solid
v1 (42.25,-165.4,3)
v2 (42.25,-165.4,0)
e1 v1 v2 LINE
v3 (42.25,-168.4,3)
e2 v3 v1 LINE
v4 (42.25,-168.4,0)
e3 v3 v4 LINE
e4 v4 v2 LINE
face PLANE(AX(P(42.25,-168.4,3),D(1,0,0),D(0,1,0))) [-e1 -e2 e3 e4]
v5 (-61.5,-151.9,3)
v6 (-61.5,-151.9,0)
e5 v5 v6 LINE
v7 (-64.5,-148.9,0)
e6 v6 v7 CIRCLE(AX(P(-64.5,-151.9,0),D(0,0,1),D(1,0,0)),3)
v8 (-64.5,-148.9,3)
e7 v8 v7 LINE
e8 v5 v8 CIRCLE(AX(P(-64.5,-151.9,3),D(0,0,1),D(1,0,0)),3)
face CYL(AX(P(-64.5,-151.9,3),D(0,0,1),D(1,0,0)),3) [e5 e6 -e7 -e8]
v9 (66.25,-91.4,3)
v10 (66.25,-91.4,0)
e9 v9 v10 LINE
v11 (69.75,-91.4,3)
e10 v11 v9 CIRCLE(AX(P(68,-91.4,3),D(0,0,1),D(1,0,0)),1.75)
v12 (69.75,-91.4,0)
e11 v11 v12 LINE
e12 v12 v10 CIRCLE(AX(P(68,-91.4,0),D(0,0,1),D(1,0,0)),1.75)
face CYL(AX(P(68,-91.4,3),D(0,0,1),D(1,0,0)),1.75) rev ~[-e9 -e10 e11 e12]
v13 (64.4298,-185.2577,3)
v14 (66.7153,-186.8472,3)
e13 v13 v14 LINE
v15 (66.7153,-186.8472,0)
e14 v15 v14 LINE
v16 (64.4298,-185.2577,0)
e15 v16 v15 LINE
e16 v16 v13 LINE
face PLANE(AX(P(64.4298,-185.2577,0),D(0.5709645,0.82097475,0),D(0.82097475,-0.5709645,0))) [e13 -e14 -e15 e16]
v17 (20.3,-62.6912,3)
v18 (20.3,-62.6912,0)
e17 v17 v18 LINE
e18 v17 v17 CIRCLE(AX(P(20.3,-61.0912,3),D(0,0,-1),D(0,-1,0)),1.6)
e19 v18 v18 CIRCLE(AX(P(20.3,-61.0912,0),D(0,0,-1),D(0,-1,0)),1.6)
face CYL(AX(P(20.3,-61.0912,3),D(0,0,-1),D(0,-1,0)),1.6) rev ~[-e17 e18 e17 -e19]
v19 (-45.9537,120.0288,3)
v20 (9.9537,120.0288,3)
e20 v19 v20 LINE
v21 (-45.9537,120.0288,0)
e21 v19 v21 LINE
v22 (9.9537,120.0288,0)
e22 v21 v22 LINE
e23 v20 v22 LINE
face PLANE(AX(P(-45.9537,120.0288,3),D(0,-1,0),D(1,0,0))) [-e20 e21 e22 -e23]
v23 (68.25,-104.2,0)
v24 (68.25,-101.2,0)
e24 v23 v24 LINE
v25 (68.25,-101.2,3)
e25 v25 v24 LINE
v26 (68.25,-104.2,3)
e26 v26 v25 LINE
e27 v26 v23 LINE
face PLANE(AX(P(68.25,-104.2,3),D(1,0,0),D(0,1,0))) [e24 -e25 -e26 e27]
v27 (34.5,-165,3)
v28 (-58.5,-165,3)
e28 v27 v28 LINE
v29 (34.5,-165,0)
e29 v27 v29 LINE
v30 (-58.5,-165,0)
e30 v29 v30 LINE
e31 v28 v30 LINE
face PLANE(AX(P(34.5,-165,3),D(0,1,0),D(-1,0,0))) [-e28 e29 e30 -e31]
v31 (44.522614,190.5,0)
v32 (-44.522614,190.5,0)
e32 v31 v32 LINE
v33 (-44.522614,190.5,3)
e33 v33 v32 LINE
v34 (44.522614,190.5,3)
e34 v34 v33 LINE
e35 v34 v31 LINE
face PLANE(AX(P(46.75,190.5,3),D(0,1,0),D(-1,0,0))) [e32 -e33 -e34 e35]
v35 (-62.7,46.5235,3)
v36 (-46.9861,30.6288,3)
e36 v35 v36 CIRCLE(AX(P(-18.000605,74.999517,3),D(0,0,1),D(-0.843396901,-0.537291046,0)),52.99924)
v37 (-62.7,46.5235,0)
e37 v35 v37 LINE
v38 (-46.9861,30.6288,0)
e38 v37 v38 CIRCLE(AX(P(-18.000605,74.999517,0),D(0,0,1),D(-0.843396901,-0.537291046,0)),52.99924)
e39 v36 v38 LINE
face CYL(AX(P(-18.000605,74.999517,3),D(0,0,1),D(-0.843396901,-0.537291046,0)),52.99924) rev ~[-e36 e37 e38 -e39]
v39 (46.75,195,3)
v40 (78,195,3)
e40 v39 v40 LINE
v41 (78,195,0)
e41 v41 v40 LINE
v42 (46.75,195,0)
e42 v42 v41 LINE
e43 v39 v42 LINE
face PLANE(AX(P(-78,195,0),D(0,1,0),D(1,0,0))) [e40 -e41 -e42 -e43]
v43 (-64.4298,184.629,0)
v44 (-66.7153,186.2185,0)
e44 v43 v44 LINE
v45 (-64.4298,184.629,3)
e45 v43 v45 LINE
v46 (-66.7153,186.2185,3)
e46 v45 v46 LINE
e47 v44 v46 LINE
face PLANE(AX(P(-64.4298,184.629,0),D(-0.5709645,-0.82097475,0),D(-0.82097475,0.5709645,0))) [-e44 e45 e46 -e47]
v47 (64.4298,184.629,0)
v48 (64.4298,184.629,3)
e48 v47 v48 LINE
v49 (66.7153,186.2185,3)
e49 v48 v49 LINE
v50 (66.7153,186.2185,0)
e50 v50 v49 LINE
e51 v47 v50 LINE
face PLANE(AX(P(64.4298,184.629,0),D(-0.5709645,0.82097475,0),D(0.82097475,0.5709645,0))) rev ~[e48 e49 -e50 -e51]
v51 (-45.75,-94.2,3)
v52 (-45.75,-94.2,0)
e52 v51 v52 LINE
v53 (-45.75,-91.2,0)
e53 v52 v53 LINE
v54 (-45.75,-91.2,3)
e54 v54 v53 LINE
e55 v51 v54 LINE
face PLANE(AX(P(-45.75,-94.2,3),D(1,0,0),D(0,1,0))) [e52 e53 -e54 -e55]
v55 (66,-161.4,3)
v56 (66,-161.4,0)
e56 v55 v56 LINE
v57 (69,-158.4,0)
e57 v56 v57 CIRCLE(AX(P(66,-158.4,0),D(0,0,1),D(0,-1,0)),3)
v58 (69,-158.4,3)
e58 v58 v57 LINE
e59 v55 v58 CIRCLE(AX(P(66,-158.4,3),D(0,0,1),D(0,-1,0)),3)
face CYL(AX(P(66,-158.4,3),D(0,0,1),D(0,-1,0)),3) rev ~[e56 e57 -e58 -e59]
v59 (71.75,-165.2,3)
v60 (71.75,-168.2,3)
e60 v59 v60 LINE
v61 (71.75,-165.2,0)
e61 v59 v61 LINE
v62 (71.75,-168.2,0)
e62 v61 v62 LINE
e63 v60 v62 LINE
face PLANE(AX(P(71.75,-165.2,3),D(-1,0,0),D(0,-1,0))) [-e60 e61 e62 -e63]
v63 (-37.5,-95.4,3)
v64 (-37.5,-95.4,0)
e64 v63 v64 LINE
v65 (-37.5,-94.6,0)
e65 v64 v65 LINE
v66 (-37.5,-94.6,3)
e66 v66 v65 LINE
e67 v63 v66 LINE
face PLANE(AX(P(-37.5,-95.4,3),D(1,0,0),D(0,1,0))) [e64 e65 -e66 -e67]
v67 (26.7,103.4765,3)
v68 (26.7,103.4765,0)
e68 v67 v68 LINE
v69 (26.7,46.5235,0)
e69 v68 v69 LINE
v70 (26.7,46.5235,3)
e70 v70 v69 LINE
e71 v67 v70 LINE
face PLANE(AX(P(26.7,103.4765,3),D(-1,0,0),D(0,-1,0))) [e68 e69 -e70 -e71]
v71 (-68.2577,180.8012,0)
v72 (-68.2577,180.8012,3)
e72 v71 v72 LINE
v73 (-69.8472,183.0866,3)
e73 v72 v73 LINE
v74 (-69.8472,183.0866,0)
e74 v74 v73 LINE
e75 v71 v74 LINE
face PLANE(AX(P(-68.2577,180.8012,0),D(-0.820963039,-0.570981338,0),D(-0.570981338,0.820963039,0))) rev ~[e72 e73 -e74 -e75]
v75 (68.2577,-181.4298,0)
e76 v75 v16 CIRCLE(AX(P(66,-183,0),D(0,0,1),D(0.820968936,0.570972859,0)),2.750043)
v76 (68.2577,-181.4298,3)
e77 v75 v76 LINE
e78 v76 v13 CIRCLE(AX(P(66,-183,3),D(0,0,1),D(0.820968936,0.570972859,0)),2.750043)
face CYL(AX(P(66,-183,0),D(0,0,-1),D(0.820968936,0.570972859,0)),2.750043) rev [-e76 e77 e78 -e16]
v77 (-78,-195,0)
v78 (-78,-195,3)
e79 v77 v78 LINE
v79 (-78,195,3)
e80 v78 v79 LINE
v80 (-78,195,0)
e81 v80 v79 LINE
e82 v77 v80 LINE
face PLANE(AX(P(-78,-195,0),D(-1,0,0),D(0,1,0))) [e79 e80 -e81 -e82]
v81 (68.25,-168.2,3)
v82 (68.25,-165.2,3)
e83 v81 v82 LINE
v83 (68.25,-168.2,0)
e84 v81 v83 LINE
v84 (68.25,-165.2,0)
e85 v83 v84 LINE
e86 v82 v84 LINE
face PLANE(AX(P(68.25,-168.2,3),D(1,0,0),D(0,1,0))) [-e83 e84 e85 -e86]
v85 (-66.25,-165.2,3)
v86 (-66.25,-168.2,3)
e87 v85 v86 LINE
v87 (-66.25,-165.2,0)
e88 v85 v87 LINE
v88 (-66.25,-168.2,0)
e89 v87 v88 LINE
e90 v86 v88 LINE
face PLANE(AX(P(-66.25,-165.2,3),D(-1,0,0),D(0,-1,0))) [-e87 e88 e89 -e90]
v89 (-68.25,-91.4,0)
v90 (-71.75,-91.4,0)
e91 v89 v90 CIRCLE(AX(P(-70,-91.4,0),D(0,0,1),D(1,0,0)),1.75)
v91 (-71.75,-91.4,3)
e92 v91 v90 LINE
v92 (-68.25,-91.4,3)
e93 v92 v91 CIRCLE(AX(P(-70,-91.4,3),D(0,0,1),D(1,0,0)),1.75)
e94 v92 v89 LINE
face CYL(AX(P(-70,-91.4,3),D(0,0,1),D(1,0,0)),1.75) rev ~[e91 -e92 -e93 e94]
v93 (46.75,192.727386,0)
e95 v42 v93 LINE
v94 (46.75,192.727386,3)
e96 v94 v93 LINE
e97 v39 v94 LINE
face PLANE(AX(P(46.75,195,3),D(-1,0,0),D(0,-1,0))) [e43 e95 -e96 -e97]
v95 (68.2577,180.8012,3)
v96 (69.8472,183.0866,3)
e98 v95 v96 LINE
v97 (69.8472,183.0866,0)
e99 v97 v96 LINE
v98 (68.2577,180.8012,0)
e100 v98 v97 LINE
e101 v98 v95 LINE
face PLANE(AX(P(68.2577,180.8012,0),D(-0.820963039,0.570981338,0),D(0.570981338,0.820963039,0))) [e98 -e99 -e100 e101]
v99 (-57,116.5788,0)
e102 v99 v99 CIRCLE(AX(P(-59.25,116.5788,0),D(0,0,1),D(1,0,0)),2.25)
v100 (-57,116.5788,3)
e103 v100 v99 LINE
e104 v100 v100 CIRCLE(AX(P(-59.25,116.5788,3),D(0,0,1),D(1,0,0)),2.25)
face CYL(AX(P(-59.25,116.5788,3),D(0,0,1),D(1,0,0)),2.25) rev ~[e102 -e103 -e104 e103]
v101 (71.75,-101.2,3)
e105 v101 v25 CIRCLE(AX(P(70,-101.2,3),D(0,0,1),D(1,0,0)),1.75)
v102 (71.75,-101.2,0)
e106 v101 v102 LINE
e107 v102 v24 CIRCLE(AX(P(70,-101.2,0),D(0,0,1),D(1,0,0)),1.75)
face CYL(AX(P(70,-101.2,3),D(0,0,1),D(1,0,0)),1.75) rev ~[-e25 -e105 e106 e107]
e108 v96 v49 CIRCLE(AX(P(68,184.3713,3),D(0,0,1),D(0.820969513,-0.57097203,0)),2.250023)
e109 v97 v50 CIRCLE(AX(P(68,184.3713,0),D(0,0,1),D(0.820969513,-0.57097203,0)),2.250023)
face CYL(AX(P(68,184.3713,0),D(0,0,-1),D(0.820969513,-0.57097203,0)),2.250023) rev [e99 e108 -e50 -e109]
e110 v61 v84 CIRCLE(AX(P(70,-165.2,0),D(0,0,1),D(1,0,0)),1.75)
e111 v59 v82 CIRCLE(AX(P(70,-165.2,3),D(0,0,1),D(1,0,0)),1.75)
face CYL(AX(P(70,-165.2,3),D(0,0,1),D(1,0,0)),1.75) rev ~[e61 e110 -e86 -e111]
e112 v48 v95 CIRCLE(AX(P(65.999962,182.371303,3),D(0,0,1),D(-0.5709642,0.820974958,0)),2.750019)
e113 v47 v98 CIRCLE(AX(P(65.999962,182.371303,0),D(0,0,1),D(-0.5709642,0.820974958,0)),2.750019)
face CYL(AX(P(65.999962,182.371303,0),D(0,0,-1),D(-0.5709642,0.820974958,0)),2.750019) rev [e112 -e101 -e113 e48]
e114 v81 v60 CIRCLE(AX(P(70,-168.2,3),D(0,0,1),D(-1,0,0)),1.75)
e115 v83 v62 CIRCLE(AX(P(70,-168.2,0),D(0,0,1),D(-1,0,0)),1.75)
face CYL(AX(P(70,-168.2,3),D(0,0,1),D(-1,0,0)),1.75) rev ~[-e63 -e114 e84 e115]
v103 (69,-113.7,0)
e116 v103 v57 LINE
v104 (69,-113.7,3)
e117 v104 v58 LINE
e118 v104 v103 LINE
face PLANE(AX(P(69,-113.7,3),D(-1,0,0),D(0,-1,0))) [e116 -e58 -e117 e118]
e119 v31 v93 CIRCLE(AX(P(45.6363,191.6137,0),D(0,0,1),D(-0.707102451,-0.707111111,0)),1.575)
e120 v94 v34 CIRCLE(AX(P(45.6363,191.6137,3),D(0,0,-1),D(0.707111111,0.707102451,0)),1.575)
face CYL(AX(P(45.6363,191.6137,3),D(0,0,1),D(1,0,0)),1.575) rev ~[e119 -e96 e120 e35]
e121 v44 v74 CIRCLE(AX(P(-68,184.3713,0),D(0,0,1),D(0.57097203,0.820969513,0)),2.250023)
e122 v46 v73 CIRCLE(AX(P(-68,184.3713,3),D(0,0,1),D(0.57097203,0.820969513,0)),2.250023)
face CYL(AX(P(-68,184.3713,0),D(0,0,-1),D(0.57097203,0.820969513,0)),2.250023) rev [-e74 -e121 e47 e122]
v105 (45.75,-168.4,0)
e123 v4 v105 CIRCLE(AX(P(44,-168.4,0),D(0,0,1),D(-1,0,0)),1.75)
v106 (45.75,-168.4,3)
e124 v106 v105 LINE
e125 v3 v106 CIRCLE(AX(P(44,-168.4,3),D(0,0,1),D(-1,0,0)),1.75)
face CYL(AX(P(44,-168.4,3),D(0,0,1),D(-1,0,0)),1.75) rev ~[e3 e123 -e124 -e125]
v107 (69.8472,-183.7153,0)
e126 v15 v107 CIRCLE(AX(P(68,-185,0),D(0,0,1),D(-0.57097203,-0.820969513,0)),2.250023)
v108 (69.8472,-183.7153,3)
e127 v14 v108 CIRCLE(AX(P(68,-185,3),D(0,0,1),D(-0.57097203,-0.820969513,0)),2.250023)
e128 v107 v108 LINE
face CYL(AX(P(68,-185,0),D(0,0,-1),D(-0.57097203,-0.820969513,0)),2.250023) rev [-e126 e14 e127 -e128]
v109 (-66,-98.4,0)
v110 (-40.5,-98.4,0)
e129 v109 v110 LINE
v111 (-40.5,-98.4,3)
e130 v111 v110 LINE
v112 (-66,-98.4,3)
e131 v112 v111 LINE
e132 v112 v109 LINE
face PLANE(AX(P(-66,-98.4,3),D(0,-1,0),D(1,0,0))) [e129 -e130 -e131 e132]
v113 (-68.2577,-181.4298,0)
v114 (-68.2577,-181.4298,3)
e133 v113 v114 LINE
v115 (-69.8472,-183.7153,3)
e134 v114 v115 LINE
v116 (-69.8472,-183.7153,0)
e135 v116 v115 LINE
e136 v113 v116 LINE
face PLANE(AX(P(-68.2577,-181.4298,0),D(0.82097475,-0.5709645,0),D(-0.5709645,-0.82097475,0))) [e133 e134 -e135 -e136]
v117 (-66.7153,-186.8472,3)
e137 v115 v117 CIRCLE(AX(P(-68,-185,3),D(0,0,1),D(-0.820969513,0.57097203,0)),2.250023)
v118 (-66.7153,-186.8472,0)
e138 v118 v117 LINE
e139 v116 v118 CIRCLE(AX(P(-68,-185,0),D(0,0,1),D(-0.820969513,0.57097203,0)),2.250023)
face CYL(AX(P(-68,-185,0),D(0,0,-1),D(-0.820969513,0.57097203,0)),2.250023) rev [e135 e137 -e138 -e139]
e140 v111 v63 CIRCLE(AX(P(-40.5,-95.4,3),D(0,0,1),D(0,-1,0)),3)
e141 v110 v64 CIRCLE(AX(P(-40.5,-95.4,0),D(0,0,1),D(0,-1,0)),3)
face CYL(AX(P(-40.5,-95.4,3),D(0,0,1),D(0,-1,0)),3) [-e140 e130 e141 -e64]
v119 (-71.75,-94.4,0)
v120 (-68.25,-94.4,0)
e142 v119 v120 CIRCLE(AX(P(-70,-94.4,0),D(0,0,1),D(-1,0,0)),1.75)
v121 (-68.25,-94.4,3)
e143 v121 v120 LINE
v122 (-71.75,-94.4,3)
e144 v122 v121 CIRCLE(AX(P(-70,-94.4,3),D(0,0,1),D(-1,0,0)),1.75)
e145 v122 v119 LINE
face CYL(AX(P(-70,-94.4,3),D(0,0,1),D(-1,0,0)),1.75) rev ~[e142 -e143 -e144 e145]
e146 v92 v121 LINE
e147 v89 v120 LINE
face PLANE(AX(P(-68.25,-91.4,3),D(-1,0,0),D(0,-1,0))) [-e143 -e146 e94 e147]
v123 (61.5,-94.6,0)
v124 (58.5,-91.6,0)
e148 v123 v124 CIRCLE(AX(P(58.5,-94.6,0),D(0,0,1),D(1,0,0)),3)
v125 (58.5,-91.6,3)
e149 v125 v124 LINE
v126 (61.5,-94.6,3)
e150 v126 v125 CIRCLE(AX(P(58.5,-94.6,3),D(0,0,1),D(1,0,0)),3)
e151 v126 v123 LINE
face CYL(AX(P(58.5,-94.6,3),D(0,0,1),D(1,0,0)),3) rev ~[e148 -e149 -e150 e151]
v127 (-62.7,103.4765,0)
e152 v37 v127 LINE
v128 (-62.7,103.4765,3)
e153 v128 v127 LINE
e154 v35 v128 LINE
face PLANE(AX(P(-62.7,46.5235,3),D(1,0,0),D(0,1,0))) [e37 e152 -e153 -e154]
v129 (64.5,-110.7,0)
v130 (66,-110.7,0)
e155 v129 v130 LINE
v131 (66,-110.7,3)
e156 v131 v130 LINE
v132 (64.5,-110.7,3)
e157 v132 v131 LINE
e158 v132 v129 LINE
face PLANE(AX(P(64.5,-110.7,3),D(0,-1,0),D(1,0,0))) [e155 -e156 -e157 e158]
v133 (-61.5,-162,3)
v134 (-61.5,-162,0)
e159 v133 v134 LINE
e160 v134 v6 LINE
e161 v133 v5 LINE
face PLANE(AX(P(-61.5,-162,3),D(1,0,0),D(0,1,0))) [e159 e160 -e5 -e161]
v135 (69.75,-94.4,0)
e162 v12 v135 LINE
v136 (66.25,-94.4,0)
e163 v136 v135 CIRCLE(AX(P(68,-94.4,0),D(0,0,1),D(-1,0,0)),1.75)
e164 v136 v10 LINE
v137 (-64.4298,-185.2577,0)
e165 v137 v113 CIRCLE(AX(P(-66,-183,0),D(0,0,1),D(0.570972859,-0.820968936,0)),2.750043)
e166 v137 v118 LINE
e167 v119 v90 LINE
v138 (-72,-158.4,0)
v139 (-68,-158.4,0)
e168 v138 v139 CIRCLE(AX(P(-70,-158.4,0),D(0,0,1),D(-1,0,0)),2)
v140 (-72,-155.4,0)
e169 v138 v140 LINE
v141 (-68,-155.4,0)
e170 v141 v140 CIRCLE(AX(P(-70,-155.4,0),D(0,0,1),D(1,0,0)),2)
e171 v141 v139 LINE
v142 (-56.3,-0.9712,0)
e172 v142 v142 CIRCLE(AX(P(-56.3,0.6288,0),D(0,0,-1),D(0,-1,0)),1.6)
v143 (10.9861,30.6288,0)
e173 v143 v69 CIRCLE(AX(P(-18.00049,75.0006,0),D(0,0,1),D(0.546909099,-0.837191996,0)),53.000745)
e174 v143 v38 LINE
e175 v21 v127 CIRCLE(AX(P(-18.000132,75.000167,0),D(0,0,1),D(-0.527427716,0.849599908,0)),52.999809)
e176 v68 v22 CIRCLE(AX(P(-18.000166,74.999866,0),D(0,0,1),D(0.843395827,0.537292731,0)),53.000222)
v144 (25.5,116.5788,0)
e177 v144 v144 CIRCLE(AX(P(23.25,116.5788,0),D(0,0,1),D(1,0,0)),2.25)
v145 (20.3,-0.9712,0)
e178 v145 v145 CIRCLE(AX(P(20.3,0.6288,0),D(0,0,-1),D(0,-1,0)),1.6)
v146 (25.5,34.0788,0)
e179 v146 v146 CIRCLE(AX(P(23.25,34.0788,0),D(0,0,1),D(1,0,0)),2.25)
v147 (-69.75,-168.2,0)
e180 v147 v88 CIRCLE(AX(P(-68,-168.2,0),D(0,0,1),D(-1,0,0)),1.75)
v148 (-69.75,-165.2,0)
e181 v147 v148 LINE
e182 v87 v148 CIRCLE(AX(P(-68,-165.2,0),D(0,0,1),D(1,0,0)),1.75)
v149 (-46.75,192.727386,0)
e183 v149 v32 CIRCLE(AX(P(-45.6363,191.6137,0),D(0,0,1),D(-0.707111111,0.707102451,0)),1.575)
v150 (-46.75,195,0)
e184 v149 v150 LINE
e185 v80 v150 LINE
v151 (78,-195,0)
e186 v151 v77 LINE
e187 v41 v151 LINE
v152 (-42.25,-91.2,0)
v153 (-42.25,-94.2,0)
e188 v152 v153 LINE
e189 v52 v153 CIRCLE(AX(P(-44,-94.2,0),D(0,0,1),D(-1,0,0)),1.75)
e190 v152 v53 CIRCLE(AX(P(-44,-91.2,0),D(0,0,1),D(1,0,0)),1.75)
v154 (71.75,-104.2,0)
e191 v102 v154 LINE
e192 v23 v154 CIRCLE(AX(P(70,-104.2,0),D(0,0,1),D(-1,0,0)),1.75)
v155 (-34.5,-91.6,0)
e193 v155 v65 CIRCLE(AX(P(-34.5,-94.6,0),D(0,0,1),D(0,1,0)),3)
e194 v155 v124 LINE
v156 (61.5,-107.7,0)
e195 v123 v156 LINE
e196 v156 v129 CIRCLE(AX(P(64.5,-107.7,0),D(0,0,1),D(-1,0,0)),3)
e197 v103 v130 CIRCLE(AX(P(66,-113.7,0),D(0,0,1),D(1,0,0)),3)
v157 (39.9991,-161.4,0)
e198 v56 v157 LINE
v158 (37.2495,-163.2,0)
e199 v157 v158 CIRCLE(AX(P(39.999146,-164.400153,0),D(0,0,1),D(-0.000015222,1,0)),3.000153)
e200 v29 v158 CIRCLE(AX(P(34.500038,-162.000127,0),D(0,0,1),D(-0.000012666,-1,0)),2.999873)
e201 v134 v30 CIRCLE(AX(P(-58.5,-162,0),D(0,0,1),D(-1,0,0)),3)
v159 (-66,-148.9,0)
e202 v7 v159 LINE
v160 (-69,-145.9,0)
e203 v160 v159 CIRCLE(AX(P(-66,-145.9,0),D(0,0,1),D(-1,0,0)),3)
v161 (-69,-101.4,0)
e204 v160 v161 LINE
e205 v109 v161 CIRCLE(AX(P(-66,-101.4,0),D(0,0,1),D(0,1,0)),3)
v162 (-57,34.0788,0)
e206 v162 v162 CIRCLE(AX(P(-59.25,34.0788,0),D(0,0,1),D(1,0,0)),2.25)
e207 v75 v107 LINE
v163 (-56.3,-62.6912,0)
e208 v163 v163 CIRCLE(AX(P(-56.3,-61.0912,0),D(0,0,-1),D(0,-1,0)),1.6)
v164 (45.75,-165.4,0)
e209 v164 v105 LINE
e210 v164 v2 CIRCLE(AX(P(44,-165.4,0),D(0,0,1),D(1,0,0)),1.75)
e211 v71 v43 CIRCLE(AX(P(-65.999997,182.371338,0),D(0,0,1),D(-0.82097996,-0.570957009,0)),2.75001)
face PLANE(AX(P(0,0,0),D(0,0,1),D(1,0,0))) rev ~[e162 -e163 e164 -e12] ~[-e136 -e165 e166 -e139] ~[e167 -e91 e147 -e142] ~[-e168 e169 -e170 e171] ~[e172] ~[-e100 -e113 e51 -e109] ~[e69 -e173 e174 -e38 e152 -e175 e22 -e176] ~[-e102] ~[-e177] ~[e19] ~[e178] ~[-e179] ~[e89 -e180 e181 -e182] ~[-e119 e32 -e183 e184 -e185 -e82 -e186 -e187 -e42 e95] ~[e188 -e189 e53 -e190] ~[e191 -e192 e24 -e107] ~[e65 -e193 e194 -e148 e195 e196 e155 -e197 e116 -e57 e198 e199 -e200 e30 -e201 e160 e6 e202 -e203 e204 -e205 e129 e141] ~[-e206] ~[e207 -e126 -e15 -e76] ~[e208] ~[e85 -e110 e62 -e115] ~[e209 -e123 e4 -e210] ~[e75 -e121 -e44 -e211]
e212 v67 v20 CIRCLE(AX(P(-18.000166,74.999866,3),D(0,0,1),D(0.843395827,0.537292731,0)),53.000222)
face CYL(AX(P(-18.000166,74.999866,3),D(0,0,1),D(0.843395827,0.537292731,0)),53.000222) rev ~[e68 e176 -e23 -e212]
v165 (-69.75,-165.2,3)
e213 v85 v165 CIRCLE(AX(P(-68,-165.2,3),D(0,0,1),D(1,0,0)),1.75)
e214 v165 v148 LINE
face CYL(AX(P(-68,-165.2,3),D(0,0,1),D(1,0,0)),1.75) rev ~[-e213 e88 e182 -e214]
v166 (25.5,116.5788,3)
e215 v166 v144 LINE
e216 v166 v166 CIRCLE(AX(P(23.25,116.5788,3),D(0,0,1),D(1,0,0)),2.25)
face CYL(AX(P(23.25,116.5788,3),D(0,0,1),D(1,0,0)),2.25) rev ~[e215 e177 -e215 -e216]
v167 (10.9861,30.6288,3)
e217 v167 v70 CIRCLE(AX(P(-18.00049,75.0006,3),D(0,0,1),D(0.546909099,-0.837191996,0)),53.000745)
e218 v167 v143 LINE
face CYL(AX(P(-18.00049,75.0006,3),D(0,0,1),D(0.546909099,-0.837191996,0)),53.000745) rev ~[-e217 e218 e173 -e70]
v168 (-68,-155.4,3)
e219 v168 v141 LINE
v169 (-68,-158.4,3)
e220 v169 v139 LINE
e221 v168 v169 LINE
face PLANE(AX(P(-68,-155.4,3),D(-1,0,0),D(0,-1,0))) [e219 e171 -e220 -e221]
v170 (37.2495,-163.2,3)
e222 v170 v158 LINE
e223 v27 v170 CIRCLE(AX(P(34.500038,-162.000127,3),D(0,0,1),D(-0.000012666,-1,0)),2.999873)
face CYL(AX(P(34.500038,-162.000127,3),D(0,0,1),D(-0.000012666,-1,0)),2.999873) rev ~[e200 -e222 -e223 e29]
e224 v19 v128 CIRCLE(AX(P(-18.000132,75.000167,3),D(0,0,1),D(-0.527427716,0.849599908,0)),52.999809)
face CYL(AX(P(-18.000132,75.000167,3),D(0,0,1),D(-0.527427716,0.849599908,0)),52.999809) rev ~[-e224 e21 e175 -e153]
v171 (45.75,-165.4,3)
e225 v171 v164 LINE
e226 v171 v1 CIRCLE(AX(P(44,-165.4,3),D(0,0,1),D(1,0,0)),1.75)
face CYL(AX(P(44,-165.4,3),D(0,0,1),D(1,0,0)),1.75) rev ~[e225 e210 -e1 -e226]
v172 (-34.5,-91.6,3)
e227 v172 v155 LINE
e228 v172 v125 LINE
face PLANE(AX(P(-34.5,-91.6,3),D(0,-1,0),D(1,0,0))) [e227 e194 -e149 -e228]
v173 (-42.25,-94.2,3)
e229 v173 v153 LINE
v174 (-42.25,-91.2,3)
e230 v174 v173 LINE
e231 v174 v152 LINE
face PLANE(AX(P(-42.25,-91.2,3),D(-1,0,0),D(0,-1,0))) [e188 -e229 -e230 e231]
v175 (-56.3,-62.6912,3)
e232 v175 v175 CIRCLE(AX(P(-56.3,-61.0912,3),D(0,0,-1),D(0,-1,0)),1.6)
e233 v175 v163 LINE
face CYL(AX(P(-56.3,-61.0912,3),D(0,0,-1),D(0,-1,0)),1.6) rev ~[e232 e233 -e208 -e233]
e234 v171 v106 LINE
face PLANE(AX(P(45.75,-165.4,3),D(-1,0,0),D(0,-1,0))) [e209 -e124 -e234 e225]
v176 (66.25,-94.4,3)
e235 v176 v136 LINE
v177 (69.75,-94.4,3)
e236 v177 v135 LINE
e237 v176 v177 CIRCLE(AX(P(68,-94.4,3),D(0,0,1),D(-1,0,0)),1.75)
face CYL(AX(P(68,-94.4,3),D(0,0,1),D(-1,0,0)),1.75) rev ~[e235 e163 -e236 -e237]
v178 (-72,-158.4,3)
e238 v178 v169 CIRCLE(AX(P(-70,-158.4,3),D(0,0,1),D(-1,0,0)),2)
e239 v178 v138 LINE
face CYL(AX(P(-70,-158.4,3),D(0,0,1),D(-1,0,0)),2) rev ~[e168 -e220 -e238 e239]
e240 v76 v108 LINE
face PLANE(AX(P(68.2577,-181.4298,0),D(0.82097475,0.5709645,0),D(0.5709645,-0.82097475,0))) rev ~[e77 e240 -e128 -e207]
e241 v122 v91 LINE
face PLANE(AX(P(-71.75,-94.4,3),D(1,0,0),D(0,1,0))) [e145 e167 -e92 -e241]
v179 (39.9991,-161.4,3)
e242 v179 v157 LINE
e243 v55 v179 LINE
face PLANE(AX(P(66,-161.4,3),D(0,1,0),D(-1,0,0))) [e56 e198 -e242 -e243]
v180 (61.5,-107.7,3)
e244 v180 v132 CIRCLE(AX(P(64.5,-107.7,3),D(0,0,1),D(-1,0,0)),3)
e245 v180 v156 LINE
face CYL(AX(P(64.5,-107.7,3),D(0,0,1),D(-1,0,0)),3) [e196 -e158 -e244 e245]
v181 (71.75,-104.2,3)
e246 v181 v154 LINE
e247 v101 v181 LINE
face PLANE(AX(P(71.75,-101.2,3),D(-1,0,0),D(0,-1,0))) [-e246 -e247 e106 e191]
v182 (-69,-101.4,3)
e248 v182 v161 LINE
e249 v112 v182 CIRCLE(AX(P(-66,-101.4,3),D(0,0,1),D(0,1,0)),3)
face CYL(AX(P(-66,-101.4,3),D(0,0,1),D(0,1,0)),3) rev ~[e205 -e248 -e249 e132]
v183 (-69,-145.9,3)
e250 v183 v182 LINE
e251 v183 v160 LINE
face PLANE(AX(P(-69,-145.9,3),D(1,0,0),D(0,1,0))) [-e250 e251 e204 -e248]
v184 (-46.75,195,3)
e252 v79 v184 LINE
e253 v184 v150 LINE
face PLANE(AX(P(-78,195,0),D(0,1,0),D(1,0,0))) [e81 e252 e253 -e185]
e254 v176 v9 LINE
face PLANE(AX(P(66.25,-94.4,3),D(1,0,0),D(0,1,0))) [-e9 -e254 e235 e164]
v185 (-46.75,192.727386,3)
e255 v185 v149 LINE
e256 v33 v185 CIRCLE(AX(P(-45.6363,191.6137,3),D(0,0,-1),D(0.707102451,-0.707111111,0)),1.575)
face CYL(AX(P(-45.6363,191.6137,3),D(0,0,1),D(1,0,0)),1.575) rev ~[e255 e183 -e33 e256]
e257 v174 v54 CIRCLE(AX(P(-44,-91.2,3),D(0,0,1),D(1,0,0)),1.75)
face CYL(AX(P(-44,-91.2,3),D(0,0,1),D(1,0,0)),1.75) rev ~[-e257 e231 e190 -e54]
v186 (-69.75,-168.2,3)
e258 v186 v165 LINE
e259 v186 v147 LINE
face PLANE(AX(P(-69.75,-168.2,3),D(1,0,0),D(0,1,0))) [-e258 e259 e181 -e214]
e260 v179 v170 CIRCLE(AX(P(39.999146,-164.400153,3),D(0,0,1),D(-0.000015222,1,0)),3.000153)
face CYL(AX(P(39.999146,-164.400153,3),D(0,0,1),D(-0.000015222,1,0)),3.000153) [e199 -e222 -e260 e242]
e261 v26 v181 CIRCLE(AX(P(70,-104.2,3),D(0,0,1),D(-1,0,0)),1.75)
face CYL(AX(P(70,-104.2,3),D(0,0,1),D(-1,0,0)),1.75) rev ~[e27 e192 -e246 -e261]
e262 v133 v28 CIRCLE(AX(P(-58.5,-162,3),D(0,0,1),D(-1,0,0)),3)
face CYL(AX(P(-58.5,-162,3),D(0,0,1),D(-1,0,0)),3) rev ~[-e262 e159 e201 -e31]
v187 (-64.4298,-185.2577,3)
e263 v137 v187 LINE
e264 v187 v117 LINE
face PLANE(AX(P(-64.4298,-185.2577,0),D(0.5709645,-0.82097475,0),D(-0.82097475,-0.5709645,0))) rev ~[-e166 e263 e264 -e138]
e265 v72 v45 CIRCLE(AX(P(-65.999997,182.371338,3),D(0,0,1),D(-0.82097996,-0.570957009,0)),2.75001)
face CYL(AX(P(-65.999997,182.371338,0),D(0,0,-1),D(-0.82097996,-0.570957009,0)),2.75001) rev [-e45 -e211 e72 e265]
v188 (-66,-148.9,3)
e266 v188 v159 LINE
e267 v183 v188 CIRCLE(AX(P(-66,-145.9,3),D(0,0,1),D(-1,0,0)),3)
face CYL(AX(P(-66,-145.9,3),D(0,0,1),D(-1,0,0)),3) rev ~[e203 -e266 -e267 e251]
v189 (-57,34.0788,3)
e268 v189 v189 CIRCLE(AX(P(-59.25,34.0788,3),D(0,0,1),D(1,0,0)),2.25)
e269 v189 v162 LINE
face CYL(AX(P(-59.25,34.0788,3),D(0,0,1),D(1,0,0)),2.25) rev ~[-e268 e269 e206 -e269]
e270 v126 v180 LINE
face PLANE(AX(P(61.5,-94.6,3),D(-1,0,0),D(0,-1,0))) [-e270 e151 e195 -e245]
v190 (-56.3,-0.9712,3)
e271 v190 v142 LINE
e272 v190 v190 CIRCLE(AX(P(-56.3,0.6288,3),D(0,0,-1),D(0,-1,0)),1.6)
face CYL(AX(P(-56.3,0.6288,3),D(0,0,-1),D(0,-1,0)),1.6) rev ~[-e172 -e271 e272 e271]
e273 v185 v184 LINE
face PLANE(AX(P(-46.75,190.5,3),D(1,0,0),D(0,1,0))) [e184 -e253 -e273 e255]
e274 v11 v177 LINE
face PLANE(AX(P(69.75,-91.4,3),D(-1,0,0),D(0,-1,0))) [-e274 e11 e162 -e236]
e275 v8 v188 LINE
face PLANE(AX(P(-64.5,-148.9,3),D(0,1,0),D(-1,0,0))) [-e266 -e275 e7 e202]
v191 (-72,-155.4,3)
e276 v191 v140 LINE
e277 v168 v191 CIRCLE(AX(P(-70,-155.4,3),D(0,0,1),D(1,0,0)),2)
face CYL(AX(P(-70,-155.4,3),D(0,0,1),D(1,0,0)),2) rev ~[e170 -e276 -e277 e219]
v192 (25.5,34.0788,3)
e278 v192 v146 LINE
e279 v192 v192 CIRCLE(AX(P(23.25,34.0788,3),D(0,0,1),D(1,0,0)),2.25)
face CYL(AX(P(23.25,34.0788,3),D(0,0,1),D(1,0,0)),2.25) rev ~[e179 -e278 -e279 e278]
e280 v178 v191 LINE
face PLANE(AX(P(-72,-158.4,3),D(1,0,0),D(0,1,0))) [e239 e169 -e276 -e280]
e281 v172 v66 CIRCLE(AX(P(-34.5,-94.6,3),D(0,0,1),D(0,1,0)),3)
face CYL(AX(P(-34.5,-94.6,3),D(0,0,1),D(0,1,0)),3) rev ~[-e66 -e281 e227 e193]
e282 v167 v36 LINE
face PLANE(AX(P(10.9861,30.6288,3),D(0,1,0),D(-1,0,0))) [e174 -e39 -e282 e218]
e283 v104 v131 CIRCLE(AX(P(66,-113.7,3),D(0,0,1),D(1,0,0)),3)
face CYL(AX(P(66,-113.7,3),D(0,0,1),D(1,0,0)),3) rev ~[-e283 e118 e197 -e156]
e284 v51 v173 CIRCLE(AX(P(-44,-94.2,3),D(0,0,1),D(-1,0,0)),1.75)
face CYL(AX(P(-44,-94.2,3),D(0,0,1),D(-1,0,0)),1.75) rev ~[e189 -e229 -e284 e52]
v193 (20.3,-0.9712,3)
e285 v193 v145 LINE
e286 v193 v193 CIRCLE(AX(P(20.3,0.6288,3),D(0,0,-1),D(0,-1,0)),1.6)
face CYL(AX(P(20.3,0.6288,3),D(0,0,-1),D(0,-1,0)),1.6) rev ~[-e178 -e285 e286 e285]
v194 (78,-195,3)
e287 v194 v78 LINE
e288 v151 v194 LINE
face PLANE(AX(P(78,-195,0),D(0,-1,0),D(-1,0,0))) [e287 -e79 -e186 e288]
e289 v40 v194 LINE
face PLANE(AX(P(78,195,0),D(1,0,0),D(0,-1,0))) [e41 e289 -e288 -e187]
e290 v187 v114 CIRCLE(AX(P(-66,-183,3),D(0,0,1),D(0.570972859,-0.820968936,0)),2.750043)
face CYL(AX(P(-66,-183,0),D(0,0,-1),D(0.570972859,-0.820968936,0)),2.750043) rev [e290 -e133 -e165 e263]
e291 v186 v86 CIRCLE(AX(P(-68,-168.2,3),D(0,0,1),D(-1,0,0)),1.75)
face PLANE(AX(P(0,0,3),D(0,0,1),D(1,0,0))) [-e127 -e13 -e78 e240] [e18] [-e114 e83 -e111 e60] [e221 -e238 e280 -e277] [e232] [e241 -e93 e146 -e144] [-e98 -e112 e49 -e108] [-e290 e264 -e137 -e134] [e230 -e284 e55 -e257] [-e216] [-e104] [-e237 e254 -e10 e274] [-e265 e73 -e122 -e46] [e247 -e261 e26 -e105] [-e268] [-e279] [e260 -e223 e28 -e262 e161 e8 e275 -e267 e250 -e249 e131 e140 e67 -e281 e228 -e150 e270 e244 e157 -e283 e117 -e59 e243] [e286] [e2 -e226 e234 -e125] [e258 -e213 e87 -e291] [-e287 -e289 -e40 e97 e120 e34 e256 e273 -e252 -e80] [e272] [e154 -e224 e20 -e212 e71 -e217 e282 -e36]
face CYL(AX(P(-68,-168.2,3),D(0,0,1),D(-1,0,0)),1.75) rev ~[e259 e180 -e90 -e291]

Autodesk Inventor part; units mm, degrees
ref_plane "YZ Plane" through (0, 0, 0) normal (1, 0, 0) x (0, 1, 0)
ref_plane "XZ Plane" through (0, 0, 0) normal (0, 1, 0) x (-1, 0, 0)
ref_plane "XY Plane" through (0, 0, 0) normal (0, 0, 1) x (1, 0, 0)
sketch "Sketch1" plane through (0, 0, 0) normal (0, 0, 1) x (1, 0, 0)
  line L0 (-78, 195) -> (78, 195)
  line L1 (78, 195) -> (78, -195)
  line L2 (78, -195) -> (-78, -195)
  line L3 (-78, -195) -> (-78, 195)
  line L4 (-78, 195) -> (78, -195) construction
  line L5 (78, 195) -> (-78, -195) construction
  arc A0 (-64.4298, -185.2577) -> (-68.2577, -181.4298) centre (-66, -183) ccw
  arc A1 (-69.8472, -183.7153) -> (-66.7153, -186.8472) centre (-68, -185) ccw
  line L6 (-64.4298, -185.2577) -> (-66.7153, -186.8472)
  line L7 (-68.2577, -181.4298) -> (-69.8472, -183.7153)
  line L8 (0, 12.0891) -> (0, -12.7178)
  line L9 (-14.9134, -0.3143) -> (28.4633, -0.3143)
  arc A2 (68.2577, -181.4298) -> (64.4298, -185.2577) centre (66, -183) ccw
  arc A3 (66.7153, -186.8472) -> (69.8472, -183.7153) centre (68, -185) ccw
  line L10 (64.4298, -185.2577) -> (66.7153, -186.8472)
  line L11 (68.2577, -181.4298) -> (69.8472, -183.7153)
  arc A4 (-68.2577, 180.8012) -> (-64.4298, 184.629) centre (-66, 182.3713) ccw
  arc A5 (-66.7153, 186.2185) -> (-69.8472, 183.0866) centre (-68, 184.3713) ccw
  line L12 (-64.4298, 184.629) -> (-66.7153, 186.2185)
  line L13 (-68.2577, 180.8012) -> (-69.8472, 183.0866)
  arc A6 (64.4298, 184.629) -> (68.2577, 180.8012) centre (66, 182.3713) ccw
  line L14 (68.2577, 180.8012) -> (69.8472, 183.0866)
  line L15 (64.4298, 184.629) -> (66.7153, 186.2185)
  arc A7 (69.8472, 183.0866) -> (66.7153, 186.2185) centre (68, 184.3713) ccw
  point P0 (0, 0)
  dimension "d507" = 390
  dimension "d508" = 156
  dimension "d513" = 5.5
  dimension "d514" = 4.5
  dimension "d515" = 10
  dimension "d516" = 10
  dimension "d517" = 12
  dimension "d518" = 12
extrude "Extrusion2" add sketch "Sketch1" along normal blind 3
sketch "Sketch3" plane through (0, 0, 3) normal (0, 0, 1) x (1, 0, 0)
  line L0 (-66, -98.4) -> (-40.5, -98.4)
  arc A0 (-71.75, -94.4) -> (-68.25, -94.4) centre (-70, -94.4) ccw
  arc A1 (-68.25, -91.4) -> (-71.75, -91.4) centre (-70, -91.4) ccw
  line L1 (-71.75, -94.4) -> (-71.75, -91.4)
  line L2 (-68.25, -91.4) -> (-68.25, -94.4)
  arc A2 (-66, -98.4) -> (-69, -101.4) centre (-66, -101.4) ccw
  line L3 (-69, -145.9) -> (-69, -101.4)
  line L4 (-45.75, -94.2) -> (-45.75, -91.2)
  arc A3 (-42.25, -91.2) -> (-45.75, -91.2) centre (-44, -91.2) ccw
  line L5 (-42.25, -91.2) -> (-42.25, -94.2)
  arc A4 (-45.75, -94.2) -> (-42.25, -94.2) centre (-44, -94.2) ccw
  arc A5 (-34.5, -91.6) -> (-37.5, -94.6) centre (-34.5, -94.6) ccw
  arc A6 (-40.5, -98.4) -> (-37.5, -95.4) centre (-40.5, -95.4) ccw
  line L6 (-37.5, -95.4) -> (-37.5, -94.6)
  line L7 (-34.5, -91.6) -> (58.5, -91.6)
  arc A7 (61.5, -94.6) -> (58.5, -91.6) centre (58.5, -94.6) ccw
  line L8 (66.25, -94.4) -> (66.25, -91.4)
  arc A8 (69.75, -91.4) -> (66.25, -91.4) centre (68, -91.4) ccw
  line L9 (69.75, -91.4) -> (69.75, -94.4)
  arc A9 (66.25, -94.4) -> (69.75, -94.4) centre (68, -94.4) ccw
  arc A10 (71.75, -101.2) -> (68.25, -101.2) centre (70, -101.2) ccw
  line L10 (68.25, -104.2) -> (68.25, -101.2)
  line L11 (71.75, -101.2) -> (71.75, -104.2)
  arc A11 (68.25, -104.2) -> (71.75, -104.2) centre (70, -104.2) ccw
  line L12 (61.5, -94.6) -> (61.5, -107.7)
  arc A12 (61.5, -107.7) -> (64.5, -110.7) centre (64.5, -107.7) ccw
  line L13 (64.5, -110.7) -> (66, -110.7)
  arc A13 (69, -113.7) -> (66, -110.7) centre (66, -113.7) ccw
  line L14 (69, -113.7) -> (69, -158.4)
  arc A14 (66, -161.4) -> (69, -158.4) centre (66, -158.4) ccw
  line L15 (66, -161.4) -> (39.9991, -161.4)
  arc A15 (71.75, -165.2) -> (68.25, -165.2) centre (70, -165.2) ccw
  line L16 (68.25, -168.2) -> (68.25, -165.2)
  line L17 (71.75, -165.2) -> (71.75, -168.2)
  arc A16 (68.25, -168.2) -> (71.75, -168.2) centre (70, -168.2) ccw
  arc A17 (39.9991, -161.4) -> (37.2495, -163.2) centre (39.9991, -164.4) ccw
  arc A18 (34.5, -165) -> (37.2495, -163.2) centre (34.5, -162) ccw
  line L18 (34.5, -165) -> (-58.5, -165)
  line L19 (42.25, -168.4) -> (42.25, -165.4)
  arc A19 (45.75, -165.4) -> (42.25, -165.4) centre (44, -165.4) ccw
  line L20 (45.75, -165.4) -> (45.75, -168.4)
  arc A20 (42.25, -168.4) -> (45.75, -168.4) centre (44, -168.4) ccw
  arc A21 (-61.5, -162) -> (-58.5, -165) centre (-58.5, -162) ccw
  line L21 (-61.5, -162) -> (-61.5, -151.9)
  arc A22 (-61.5, -151.9) -> (-64.5, -148.9) centre (-64.5, -151.9) ccw
  arc A23 (-69, -145.9) -> (-66, -148.9) centre (-66, -145.9) ccw
  line L22 (-64.5, -148.9) -> (-66, -148.9)
  arc A24 (-68, -155.4) -> (-72, -155.4) centre (-70, -155.4) ccw
  line L23 (-68, -155.4) -> (-68, -158.4)
  line L24 (-72, -158.4) -> (-72, -155.4)
  arc A25 (-72, -158.4) -> (-68, -158.4) centre (-70, -158.4) ccw
  arc A26 (-66.25, -165.2) -> (-69.75, -165.2) centre (-68, -165.2) ccw
  line L25 (-69.75, -168.2) -> (-69.75, -165.2)
  line L26 (-66.25, -165.2) -> (-66.25, -168.2)
  arc A27 (-69.75, -168.2) -> (-66.25, -168.2) centre (-68, -168.2) ccw
  line L27 (-78, -195) -> (78, -195) projected
  point P0 (0, 0)
  dimension "d524" = 1.75
  dimension "d525" = 3
  dimension "d526" = 2
  dimension "d527" = 2
  dimension "d528" = 2.75
  dimension "d529" = 10.25
  dimension "d530" = 26
  dimension "d531" = 109.25
  dimension "d532" = 114
  dimension "d533" = 133.25
  dimension "d534" = 138
  dimension "d535" = 139.75
  dimension "d536" = 140
  dimension "d537" = 140.75
  dimension "d538" = 50.7
  dimension "d539" = 19.1
  dimension "d540" = 54.3
  dimension "d541" = 12.3
  dimension "d542" = 38.2
  dimension "d543" = 9.5
  dimension "d544" = 6.5
  dimension "d545" = 54.5
  dimension "d546" = 57.5
  dimension "d547" = 19.3
  dimension "d548" = 16.3
  dimension "d549" = 54.7
  dimension "d550" = 57.7
  dimension "d551" = 31.7509
  dimension "d552" = 19.5
  dimension "d553" = 16.5
  dimension "d554" = 54.5
  dimension "d555" = 44.7
  dimension "d556" = 137.75
  dimension "d557" = 57.5
  dimension "d558" = 16.3
  dimension "d559" = 139
  dimension "d560" = 19.3
  dimension "d561" = 139
  dimension "d562" = 47.7
  dimension "d563" = 30
extrude "Extrusion3" cut sketch "Sketch3" against normal through all
sketch "Sketch5" plane through (0, 0, 3) normal (0, 0, 1) x (1, 0, 0)
  line L0 (78, -195) -> (78, 195) projected
  line L1 (78, 195) -> (-78, 195) projected
  line L2 (-45.9537, 120.0288) -> (9.9537, 120.0288)
  line L3 (26.7, 103.4765) -> (26.7, 46.5235)
  line L4 (10.9861, 30.6288) -> (-46.9861, 30.6288)
  line L5 (-62.7, 46.5235) -> (-62.7, 103.4765)
  line L6 (-62.3588, 119.7124) -> (26.6856, 29.9582) construction
  line L7 (26.7, 119.7) -> (-62.7, 30.3) construction
  arc A0 (-45.9537, 120.0288) -> (-62.7, 103.4765) centre (-18, 75) ccw
  arc A1 (26.7, 103.4765) -> (9.9537, 120.0288) centre (-18, 75) ccw
  arc A2 (-62.7, 46.5235) -> (-46.9861, 30.6288) centre (-18, 75) ccw
  arc A3 (10.9861, 30.6288) -> (26.7, 46.5235) centre (-18, 75) ccw
  circle A4 centre (-59.25, 116.5788) radius 2.25
  circle A5 centre (-59.25, 34.0788) radius 2.25
  circle A6 centre (23.25, 116.5788) radius 2.25
  circle A7 centre (23.25, 34.0788) radius 2.25
  point P0 (0, 0)
  dimension "d566" = 96
  dimension "d568" = 120
  dimension "d571" = 89.4
  dimension "d572" = 89.4
  dimension "d573" = 3.45
  dimension "d574" = 3.45
  dimension "d575" = 4.5
  dimension "d578" = 82.5
  dimension "d581" = 82.5
extrude "Extrusion4" cut sketch "Sketch5" against normal up to surface (3 mm away)
sketch "Sketch7" plane through (0, 0, 3) normal (0, 0, 1) x (1, 0, 0)
  line L0 (78, 195) -> (-78, 195) projected
  line L1 (-46.75, 195) -> (46.75, 195)
  line L2 (46.75, 195) -> (46.75, 190.5)
  line L3 (46.75, 190.5) -> (-46.75, 190.5)
  line L4 (-46.75, 190.5) -> (-46.75, 195)
  line L5 (78, -195) -> (78, 195) projected
  point P0 (0, 0)
  dimension "d586" = 93.5
  dimension "d587" = 4.5
  dimension "d588" = 156
  dimension "d589" = 31.25
extrude "Extrusion5" cut sketch "Sketch7" against normal up to surface (3 mm away)
sketch "Sketch8" plane through (0, 0, 3) normal (0, 0, 1) x (1, 0, 0)
  arc A0 (-62.7, 46.5235) -> (-46.9861, 30.6288) centre (-18, 75) ccw projected
  line L0 (-78, 195) -> (-78, -195) projected
  line L1 (-78, -195) -> (78, -195) projected
  line L2 (10.9861, 30.6288) -> (-46.9861, 30.6288) projected
  point P0 (0, 0)
  point P1 (-56.3, -61.0912)
  point P2 (-56.3, 0.6288)
  point P3 (20.3, -61.0912)
  point P4 (20.3, 0.6288)
  dimension "d592" = 60
  dimension "d598" = 61.72
  dimension "d601" = 76.6
  dimension "d604" = 21.7
  dimension "d605" = 30
hole "Hole2" at (-56.3, -61.0912, 3) at (-56.3, 0.6288, 3) at (20.3, -61.0912, 3) at (20.3, 0.6288, 3) direction (0, 0, -1) diameter 3.2 end through all
sketch "Sketch9" plane through (0, 0, 3) normal (0, 0, 1) x (1, 0, 0)
  line L0 (-46.75, 195) -> (-78, 195) projected
  line L1 (-46.75, 190.5) -> (-46.75, 195) projected
  line L2 (46.75, 190.5) -> (-46.75, 190.5) projected
  line L3 (46.75, 195) -> (46.75, 190.5) projected
  line L4 (78, 195) -> (46.75, 195) projected
  circle A0 centre (-45.6363, 191.6137) radius 1.575
  circle A1 centre (45.6363, 191.6137) radius 1.575
  point P0 (0, 0)
  point P1 (-44.5226, 190.5)
  point P2 (-46.75, 192.7274)
  point P3 (44.5226, 190.5)
  point P4 (46.75, 192.7274)
  point P5 (-46.75, 192.7274)
  dimension "d620" = 3.15
  dimension "d622" = 2.2274
  dimension "d624" = 2.2274
  dimension "d625" = 3.15
  dimension "d626" = 2.2274
extrude "Extrusion6" cut sketch "Sketch9" against normal up to surface (3 mm away) contours A0 L1 | L2 A1 | L2 A0 | L3 A1
properties part number "bottom_panel2"
